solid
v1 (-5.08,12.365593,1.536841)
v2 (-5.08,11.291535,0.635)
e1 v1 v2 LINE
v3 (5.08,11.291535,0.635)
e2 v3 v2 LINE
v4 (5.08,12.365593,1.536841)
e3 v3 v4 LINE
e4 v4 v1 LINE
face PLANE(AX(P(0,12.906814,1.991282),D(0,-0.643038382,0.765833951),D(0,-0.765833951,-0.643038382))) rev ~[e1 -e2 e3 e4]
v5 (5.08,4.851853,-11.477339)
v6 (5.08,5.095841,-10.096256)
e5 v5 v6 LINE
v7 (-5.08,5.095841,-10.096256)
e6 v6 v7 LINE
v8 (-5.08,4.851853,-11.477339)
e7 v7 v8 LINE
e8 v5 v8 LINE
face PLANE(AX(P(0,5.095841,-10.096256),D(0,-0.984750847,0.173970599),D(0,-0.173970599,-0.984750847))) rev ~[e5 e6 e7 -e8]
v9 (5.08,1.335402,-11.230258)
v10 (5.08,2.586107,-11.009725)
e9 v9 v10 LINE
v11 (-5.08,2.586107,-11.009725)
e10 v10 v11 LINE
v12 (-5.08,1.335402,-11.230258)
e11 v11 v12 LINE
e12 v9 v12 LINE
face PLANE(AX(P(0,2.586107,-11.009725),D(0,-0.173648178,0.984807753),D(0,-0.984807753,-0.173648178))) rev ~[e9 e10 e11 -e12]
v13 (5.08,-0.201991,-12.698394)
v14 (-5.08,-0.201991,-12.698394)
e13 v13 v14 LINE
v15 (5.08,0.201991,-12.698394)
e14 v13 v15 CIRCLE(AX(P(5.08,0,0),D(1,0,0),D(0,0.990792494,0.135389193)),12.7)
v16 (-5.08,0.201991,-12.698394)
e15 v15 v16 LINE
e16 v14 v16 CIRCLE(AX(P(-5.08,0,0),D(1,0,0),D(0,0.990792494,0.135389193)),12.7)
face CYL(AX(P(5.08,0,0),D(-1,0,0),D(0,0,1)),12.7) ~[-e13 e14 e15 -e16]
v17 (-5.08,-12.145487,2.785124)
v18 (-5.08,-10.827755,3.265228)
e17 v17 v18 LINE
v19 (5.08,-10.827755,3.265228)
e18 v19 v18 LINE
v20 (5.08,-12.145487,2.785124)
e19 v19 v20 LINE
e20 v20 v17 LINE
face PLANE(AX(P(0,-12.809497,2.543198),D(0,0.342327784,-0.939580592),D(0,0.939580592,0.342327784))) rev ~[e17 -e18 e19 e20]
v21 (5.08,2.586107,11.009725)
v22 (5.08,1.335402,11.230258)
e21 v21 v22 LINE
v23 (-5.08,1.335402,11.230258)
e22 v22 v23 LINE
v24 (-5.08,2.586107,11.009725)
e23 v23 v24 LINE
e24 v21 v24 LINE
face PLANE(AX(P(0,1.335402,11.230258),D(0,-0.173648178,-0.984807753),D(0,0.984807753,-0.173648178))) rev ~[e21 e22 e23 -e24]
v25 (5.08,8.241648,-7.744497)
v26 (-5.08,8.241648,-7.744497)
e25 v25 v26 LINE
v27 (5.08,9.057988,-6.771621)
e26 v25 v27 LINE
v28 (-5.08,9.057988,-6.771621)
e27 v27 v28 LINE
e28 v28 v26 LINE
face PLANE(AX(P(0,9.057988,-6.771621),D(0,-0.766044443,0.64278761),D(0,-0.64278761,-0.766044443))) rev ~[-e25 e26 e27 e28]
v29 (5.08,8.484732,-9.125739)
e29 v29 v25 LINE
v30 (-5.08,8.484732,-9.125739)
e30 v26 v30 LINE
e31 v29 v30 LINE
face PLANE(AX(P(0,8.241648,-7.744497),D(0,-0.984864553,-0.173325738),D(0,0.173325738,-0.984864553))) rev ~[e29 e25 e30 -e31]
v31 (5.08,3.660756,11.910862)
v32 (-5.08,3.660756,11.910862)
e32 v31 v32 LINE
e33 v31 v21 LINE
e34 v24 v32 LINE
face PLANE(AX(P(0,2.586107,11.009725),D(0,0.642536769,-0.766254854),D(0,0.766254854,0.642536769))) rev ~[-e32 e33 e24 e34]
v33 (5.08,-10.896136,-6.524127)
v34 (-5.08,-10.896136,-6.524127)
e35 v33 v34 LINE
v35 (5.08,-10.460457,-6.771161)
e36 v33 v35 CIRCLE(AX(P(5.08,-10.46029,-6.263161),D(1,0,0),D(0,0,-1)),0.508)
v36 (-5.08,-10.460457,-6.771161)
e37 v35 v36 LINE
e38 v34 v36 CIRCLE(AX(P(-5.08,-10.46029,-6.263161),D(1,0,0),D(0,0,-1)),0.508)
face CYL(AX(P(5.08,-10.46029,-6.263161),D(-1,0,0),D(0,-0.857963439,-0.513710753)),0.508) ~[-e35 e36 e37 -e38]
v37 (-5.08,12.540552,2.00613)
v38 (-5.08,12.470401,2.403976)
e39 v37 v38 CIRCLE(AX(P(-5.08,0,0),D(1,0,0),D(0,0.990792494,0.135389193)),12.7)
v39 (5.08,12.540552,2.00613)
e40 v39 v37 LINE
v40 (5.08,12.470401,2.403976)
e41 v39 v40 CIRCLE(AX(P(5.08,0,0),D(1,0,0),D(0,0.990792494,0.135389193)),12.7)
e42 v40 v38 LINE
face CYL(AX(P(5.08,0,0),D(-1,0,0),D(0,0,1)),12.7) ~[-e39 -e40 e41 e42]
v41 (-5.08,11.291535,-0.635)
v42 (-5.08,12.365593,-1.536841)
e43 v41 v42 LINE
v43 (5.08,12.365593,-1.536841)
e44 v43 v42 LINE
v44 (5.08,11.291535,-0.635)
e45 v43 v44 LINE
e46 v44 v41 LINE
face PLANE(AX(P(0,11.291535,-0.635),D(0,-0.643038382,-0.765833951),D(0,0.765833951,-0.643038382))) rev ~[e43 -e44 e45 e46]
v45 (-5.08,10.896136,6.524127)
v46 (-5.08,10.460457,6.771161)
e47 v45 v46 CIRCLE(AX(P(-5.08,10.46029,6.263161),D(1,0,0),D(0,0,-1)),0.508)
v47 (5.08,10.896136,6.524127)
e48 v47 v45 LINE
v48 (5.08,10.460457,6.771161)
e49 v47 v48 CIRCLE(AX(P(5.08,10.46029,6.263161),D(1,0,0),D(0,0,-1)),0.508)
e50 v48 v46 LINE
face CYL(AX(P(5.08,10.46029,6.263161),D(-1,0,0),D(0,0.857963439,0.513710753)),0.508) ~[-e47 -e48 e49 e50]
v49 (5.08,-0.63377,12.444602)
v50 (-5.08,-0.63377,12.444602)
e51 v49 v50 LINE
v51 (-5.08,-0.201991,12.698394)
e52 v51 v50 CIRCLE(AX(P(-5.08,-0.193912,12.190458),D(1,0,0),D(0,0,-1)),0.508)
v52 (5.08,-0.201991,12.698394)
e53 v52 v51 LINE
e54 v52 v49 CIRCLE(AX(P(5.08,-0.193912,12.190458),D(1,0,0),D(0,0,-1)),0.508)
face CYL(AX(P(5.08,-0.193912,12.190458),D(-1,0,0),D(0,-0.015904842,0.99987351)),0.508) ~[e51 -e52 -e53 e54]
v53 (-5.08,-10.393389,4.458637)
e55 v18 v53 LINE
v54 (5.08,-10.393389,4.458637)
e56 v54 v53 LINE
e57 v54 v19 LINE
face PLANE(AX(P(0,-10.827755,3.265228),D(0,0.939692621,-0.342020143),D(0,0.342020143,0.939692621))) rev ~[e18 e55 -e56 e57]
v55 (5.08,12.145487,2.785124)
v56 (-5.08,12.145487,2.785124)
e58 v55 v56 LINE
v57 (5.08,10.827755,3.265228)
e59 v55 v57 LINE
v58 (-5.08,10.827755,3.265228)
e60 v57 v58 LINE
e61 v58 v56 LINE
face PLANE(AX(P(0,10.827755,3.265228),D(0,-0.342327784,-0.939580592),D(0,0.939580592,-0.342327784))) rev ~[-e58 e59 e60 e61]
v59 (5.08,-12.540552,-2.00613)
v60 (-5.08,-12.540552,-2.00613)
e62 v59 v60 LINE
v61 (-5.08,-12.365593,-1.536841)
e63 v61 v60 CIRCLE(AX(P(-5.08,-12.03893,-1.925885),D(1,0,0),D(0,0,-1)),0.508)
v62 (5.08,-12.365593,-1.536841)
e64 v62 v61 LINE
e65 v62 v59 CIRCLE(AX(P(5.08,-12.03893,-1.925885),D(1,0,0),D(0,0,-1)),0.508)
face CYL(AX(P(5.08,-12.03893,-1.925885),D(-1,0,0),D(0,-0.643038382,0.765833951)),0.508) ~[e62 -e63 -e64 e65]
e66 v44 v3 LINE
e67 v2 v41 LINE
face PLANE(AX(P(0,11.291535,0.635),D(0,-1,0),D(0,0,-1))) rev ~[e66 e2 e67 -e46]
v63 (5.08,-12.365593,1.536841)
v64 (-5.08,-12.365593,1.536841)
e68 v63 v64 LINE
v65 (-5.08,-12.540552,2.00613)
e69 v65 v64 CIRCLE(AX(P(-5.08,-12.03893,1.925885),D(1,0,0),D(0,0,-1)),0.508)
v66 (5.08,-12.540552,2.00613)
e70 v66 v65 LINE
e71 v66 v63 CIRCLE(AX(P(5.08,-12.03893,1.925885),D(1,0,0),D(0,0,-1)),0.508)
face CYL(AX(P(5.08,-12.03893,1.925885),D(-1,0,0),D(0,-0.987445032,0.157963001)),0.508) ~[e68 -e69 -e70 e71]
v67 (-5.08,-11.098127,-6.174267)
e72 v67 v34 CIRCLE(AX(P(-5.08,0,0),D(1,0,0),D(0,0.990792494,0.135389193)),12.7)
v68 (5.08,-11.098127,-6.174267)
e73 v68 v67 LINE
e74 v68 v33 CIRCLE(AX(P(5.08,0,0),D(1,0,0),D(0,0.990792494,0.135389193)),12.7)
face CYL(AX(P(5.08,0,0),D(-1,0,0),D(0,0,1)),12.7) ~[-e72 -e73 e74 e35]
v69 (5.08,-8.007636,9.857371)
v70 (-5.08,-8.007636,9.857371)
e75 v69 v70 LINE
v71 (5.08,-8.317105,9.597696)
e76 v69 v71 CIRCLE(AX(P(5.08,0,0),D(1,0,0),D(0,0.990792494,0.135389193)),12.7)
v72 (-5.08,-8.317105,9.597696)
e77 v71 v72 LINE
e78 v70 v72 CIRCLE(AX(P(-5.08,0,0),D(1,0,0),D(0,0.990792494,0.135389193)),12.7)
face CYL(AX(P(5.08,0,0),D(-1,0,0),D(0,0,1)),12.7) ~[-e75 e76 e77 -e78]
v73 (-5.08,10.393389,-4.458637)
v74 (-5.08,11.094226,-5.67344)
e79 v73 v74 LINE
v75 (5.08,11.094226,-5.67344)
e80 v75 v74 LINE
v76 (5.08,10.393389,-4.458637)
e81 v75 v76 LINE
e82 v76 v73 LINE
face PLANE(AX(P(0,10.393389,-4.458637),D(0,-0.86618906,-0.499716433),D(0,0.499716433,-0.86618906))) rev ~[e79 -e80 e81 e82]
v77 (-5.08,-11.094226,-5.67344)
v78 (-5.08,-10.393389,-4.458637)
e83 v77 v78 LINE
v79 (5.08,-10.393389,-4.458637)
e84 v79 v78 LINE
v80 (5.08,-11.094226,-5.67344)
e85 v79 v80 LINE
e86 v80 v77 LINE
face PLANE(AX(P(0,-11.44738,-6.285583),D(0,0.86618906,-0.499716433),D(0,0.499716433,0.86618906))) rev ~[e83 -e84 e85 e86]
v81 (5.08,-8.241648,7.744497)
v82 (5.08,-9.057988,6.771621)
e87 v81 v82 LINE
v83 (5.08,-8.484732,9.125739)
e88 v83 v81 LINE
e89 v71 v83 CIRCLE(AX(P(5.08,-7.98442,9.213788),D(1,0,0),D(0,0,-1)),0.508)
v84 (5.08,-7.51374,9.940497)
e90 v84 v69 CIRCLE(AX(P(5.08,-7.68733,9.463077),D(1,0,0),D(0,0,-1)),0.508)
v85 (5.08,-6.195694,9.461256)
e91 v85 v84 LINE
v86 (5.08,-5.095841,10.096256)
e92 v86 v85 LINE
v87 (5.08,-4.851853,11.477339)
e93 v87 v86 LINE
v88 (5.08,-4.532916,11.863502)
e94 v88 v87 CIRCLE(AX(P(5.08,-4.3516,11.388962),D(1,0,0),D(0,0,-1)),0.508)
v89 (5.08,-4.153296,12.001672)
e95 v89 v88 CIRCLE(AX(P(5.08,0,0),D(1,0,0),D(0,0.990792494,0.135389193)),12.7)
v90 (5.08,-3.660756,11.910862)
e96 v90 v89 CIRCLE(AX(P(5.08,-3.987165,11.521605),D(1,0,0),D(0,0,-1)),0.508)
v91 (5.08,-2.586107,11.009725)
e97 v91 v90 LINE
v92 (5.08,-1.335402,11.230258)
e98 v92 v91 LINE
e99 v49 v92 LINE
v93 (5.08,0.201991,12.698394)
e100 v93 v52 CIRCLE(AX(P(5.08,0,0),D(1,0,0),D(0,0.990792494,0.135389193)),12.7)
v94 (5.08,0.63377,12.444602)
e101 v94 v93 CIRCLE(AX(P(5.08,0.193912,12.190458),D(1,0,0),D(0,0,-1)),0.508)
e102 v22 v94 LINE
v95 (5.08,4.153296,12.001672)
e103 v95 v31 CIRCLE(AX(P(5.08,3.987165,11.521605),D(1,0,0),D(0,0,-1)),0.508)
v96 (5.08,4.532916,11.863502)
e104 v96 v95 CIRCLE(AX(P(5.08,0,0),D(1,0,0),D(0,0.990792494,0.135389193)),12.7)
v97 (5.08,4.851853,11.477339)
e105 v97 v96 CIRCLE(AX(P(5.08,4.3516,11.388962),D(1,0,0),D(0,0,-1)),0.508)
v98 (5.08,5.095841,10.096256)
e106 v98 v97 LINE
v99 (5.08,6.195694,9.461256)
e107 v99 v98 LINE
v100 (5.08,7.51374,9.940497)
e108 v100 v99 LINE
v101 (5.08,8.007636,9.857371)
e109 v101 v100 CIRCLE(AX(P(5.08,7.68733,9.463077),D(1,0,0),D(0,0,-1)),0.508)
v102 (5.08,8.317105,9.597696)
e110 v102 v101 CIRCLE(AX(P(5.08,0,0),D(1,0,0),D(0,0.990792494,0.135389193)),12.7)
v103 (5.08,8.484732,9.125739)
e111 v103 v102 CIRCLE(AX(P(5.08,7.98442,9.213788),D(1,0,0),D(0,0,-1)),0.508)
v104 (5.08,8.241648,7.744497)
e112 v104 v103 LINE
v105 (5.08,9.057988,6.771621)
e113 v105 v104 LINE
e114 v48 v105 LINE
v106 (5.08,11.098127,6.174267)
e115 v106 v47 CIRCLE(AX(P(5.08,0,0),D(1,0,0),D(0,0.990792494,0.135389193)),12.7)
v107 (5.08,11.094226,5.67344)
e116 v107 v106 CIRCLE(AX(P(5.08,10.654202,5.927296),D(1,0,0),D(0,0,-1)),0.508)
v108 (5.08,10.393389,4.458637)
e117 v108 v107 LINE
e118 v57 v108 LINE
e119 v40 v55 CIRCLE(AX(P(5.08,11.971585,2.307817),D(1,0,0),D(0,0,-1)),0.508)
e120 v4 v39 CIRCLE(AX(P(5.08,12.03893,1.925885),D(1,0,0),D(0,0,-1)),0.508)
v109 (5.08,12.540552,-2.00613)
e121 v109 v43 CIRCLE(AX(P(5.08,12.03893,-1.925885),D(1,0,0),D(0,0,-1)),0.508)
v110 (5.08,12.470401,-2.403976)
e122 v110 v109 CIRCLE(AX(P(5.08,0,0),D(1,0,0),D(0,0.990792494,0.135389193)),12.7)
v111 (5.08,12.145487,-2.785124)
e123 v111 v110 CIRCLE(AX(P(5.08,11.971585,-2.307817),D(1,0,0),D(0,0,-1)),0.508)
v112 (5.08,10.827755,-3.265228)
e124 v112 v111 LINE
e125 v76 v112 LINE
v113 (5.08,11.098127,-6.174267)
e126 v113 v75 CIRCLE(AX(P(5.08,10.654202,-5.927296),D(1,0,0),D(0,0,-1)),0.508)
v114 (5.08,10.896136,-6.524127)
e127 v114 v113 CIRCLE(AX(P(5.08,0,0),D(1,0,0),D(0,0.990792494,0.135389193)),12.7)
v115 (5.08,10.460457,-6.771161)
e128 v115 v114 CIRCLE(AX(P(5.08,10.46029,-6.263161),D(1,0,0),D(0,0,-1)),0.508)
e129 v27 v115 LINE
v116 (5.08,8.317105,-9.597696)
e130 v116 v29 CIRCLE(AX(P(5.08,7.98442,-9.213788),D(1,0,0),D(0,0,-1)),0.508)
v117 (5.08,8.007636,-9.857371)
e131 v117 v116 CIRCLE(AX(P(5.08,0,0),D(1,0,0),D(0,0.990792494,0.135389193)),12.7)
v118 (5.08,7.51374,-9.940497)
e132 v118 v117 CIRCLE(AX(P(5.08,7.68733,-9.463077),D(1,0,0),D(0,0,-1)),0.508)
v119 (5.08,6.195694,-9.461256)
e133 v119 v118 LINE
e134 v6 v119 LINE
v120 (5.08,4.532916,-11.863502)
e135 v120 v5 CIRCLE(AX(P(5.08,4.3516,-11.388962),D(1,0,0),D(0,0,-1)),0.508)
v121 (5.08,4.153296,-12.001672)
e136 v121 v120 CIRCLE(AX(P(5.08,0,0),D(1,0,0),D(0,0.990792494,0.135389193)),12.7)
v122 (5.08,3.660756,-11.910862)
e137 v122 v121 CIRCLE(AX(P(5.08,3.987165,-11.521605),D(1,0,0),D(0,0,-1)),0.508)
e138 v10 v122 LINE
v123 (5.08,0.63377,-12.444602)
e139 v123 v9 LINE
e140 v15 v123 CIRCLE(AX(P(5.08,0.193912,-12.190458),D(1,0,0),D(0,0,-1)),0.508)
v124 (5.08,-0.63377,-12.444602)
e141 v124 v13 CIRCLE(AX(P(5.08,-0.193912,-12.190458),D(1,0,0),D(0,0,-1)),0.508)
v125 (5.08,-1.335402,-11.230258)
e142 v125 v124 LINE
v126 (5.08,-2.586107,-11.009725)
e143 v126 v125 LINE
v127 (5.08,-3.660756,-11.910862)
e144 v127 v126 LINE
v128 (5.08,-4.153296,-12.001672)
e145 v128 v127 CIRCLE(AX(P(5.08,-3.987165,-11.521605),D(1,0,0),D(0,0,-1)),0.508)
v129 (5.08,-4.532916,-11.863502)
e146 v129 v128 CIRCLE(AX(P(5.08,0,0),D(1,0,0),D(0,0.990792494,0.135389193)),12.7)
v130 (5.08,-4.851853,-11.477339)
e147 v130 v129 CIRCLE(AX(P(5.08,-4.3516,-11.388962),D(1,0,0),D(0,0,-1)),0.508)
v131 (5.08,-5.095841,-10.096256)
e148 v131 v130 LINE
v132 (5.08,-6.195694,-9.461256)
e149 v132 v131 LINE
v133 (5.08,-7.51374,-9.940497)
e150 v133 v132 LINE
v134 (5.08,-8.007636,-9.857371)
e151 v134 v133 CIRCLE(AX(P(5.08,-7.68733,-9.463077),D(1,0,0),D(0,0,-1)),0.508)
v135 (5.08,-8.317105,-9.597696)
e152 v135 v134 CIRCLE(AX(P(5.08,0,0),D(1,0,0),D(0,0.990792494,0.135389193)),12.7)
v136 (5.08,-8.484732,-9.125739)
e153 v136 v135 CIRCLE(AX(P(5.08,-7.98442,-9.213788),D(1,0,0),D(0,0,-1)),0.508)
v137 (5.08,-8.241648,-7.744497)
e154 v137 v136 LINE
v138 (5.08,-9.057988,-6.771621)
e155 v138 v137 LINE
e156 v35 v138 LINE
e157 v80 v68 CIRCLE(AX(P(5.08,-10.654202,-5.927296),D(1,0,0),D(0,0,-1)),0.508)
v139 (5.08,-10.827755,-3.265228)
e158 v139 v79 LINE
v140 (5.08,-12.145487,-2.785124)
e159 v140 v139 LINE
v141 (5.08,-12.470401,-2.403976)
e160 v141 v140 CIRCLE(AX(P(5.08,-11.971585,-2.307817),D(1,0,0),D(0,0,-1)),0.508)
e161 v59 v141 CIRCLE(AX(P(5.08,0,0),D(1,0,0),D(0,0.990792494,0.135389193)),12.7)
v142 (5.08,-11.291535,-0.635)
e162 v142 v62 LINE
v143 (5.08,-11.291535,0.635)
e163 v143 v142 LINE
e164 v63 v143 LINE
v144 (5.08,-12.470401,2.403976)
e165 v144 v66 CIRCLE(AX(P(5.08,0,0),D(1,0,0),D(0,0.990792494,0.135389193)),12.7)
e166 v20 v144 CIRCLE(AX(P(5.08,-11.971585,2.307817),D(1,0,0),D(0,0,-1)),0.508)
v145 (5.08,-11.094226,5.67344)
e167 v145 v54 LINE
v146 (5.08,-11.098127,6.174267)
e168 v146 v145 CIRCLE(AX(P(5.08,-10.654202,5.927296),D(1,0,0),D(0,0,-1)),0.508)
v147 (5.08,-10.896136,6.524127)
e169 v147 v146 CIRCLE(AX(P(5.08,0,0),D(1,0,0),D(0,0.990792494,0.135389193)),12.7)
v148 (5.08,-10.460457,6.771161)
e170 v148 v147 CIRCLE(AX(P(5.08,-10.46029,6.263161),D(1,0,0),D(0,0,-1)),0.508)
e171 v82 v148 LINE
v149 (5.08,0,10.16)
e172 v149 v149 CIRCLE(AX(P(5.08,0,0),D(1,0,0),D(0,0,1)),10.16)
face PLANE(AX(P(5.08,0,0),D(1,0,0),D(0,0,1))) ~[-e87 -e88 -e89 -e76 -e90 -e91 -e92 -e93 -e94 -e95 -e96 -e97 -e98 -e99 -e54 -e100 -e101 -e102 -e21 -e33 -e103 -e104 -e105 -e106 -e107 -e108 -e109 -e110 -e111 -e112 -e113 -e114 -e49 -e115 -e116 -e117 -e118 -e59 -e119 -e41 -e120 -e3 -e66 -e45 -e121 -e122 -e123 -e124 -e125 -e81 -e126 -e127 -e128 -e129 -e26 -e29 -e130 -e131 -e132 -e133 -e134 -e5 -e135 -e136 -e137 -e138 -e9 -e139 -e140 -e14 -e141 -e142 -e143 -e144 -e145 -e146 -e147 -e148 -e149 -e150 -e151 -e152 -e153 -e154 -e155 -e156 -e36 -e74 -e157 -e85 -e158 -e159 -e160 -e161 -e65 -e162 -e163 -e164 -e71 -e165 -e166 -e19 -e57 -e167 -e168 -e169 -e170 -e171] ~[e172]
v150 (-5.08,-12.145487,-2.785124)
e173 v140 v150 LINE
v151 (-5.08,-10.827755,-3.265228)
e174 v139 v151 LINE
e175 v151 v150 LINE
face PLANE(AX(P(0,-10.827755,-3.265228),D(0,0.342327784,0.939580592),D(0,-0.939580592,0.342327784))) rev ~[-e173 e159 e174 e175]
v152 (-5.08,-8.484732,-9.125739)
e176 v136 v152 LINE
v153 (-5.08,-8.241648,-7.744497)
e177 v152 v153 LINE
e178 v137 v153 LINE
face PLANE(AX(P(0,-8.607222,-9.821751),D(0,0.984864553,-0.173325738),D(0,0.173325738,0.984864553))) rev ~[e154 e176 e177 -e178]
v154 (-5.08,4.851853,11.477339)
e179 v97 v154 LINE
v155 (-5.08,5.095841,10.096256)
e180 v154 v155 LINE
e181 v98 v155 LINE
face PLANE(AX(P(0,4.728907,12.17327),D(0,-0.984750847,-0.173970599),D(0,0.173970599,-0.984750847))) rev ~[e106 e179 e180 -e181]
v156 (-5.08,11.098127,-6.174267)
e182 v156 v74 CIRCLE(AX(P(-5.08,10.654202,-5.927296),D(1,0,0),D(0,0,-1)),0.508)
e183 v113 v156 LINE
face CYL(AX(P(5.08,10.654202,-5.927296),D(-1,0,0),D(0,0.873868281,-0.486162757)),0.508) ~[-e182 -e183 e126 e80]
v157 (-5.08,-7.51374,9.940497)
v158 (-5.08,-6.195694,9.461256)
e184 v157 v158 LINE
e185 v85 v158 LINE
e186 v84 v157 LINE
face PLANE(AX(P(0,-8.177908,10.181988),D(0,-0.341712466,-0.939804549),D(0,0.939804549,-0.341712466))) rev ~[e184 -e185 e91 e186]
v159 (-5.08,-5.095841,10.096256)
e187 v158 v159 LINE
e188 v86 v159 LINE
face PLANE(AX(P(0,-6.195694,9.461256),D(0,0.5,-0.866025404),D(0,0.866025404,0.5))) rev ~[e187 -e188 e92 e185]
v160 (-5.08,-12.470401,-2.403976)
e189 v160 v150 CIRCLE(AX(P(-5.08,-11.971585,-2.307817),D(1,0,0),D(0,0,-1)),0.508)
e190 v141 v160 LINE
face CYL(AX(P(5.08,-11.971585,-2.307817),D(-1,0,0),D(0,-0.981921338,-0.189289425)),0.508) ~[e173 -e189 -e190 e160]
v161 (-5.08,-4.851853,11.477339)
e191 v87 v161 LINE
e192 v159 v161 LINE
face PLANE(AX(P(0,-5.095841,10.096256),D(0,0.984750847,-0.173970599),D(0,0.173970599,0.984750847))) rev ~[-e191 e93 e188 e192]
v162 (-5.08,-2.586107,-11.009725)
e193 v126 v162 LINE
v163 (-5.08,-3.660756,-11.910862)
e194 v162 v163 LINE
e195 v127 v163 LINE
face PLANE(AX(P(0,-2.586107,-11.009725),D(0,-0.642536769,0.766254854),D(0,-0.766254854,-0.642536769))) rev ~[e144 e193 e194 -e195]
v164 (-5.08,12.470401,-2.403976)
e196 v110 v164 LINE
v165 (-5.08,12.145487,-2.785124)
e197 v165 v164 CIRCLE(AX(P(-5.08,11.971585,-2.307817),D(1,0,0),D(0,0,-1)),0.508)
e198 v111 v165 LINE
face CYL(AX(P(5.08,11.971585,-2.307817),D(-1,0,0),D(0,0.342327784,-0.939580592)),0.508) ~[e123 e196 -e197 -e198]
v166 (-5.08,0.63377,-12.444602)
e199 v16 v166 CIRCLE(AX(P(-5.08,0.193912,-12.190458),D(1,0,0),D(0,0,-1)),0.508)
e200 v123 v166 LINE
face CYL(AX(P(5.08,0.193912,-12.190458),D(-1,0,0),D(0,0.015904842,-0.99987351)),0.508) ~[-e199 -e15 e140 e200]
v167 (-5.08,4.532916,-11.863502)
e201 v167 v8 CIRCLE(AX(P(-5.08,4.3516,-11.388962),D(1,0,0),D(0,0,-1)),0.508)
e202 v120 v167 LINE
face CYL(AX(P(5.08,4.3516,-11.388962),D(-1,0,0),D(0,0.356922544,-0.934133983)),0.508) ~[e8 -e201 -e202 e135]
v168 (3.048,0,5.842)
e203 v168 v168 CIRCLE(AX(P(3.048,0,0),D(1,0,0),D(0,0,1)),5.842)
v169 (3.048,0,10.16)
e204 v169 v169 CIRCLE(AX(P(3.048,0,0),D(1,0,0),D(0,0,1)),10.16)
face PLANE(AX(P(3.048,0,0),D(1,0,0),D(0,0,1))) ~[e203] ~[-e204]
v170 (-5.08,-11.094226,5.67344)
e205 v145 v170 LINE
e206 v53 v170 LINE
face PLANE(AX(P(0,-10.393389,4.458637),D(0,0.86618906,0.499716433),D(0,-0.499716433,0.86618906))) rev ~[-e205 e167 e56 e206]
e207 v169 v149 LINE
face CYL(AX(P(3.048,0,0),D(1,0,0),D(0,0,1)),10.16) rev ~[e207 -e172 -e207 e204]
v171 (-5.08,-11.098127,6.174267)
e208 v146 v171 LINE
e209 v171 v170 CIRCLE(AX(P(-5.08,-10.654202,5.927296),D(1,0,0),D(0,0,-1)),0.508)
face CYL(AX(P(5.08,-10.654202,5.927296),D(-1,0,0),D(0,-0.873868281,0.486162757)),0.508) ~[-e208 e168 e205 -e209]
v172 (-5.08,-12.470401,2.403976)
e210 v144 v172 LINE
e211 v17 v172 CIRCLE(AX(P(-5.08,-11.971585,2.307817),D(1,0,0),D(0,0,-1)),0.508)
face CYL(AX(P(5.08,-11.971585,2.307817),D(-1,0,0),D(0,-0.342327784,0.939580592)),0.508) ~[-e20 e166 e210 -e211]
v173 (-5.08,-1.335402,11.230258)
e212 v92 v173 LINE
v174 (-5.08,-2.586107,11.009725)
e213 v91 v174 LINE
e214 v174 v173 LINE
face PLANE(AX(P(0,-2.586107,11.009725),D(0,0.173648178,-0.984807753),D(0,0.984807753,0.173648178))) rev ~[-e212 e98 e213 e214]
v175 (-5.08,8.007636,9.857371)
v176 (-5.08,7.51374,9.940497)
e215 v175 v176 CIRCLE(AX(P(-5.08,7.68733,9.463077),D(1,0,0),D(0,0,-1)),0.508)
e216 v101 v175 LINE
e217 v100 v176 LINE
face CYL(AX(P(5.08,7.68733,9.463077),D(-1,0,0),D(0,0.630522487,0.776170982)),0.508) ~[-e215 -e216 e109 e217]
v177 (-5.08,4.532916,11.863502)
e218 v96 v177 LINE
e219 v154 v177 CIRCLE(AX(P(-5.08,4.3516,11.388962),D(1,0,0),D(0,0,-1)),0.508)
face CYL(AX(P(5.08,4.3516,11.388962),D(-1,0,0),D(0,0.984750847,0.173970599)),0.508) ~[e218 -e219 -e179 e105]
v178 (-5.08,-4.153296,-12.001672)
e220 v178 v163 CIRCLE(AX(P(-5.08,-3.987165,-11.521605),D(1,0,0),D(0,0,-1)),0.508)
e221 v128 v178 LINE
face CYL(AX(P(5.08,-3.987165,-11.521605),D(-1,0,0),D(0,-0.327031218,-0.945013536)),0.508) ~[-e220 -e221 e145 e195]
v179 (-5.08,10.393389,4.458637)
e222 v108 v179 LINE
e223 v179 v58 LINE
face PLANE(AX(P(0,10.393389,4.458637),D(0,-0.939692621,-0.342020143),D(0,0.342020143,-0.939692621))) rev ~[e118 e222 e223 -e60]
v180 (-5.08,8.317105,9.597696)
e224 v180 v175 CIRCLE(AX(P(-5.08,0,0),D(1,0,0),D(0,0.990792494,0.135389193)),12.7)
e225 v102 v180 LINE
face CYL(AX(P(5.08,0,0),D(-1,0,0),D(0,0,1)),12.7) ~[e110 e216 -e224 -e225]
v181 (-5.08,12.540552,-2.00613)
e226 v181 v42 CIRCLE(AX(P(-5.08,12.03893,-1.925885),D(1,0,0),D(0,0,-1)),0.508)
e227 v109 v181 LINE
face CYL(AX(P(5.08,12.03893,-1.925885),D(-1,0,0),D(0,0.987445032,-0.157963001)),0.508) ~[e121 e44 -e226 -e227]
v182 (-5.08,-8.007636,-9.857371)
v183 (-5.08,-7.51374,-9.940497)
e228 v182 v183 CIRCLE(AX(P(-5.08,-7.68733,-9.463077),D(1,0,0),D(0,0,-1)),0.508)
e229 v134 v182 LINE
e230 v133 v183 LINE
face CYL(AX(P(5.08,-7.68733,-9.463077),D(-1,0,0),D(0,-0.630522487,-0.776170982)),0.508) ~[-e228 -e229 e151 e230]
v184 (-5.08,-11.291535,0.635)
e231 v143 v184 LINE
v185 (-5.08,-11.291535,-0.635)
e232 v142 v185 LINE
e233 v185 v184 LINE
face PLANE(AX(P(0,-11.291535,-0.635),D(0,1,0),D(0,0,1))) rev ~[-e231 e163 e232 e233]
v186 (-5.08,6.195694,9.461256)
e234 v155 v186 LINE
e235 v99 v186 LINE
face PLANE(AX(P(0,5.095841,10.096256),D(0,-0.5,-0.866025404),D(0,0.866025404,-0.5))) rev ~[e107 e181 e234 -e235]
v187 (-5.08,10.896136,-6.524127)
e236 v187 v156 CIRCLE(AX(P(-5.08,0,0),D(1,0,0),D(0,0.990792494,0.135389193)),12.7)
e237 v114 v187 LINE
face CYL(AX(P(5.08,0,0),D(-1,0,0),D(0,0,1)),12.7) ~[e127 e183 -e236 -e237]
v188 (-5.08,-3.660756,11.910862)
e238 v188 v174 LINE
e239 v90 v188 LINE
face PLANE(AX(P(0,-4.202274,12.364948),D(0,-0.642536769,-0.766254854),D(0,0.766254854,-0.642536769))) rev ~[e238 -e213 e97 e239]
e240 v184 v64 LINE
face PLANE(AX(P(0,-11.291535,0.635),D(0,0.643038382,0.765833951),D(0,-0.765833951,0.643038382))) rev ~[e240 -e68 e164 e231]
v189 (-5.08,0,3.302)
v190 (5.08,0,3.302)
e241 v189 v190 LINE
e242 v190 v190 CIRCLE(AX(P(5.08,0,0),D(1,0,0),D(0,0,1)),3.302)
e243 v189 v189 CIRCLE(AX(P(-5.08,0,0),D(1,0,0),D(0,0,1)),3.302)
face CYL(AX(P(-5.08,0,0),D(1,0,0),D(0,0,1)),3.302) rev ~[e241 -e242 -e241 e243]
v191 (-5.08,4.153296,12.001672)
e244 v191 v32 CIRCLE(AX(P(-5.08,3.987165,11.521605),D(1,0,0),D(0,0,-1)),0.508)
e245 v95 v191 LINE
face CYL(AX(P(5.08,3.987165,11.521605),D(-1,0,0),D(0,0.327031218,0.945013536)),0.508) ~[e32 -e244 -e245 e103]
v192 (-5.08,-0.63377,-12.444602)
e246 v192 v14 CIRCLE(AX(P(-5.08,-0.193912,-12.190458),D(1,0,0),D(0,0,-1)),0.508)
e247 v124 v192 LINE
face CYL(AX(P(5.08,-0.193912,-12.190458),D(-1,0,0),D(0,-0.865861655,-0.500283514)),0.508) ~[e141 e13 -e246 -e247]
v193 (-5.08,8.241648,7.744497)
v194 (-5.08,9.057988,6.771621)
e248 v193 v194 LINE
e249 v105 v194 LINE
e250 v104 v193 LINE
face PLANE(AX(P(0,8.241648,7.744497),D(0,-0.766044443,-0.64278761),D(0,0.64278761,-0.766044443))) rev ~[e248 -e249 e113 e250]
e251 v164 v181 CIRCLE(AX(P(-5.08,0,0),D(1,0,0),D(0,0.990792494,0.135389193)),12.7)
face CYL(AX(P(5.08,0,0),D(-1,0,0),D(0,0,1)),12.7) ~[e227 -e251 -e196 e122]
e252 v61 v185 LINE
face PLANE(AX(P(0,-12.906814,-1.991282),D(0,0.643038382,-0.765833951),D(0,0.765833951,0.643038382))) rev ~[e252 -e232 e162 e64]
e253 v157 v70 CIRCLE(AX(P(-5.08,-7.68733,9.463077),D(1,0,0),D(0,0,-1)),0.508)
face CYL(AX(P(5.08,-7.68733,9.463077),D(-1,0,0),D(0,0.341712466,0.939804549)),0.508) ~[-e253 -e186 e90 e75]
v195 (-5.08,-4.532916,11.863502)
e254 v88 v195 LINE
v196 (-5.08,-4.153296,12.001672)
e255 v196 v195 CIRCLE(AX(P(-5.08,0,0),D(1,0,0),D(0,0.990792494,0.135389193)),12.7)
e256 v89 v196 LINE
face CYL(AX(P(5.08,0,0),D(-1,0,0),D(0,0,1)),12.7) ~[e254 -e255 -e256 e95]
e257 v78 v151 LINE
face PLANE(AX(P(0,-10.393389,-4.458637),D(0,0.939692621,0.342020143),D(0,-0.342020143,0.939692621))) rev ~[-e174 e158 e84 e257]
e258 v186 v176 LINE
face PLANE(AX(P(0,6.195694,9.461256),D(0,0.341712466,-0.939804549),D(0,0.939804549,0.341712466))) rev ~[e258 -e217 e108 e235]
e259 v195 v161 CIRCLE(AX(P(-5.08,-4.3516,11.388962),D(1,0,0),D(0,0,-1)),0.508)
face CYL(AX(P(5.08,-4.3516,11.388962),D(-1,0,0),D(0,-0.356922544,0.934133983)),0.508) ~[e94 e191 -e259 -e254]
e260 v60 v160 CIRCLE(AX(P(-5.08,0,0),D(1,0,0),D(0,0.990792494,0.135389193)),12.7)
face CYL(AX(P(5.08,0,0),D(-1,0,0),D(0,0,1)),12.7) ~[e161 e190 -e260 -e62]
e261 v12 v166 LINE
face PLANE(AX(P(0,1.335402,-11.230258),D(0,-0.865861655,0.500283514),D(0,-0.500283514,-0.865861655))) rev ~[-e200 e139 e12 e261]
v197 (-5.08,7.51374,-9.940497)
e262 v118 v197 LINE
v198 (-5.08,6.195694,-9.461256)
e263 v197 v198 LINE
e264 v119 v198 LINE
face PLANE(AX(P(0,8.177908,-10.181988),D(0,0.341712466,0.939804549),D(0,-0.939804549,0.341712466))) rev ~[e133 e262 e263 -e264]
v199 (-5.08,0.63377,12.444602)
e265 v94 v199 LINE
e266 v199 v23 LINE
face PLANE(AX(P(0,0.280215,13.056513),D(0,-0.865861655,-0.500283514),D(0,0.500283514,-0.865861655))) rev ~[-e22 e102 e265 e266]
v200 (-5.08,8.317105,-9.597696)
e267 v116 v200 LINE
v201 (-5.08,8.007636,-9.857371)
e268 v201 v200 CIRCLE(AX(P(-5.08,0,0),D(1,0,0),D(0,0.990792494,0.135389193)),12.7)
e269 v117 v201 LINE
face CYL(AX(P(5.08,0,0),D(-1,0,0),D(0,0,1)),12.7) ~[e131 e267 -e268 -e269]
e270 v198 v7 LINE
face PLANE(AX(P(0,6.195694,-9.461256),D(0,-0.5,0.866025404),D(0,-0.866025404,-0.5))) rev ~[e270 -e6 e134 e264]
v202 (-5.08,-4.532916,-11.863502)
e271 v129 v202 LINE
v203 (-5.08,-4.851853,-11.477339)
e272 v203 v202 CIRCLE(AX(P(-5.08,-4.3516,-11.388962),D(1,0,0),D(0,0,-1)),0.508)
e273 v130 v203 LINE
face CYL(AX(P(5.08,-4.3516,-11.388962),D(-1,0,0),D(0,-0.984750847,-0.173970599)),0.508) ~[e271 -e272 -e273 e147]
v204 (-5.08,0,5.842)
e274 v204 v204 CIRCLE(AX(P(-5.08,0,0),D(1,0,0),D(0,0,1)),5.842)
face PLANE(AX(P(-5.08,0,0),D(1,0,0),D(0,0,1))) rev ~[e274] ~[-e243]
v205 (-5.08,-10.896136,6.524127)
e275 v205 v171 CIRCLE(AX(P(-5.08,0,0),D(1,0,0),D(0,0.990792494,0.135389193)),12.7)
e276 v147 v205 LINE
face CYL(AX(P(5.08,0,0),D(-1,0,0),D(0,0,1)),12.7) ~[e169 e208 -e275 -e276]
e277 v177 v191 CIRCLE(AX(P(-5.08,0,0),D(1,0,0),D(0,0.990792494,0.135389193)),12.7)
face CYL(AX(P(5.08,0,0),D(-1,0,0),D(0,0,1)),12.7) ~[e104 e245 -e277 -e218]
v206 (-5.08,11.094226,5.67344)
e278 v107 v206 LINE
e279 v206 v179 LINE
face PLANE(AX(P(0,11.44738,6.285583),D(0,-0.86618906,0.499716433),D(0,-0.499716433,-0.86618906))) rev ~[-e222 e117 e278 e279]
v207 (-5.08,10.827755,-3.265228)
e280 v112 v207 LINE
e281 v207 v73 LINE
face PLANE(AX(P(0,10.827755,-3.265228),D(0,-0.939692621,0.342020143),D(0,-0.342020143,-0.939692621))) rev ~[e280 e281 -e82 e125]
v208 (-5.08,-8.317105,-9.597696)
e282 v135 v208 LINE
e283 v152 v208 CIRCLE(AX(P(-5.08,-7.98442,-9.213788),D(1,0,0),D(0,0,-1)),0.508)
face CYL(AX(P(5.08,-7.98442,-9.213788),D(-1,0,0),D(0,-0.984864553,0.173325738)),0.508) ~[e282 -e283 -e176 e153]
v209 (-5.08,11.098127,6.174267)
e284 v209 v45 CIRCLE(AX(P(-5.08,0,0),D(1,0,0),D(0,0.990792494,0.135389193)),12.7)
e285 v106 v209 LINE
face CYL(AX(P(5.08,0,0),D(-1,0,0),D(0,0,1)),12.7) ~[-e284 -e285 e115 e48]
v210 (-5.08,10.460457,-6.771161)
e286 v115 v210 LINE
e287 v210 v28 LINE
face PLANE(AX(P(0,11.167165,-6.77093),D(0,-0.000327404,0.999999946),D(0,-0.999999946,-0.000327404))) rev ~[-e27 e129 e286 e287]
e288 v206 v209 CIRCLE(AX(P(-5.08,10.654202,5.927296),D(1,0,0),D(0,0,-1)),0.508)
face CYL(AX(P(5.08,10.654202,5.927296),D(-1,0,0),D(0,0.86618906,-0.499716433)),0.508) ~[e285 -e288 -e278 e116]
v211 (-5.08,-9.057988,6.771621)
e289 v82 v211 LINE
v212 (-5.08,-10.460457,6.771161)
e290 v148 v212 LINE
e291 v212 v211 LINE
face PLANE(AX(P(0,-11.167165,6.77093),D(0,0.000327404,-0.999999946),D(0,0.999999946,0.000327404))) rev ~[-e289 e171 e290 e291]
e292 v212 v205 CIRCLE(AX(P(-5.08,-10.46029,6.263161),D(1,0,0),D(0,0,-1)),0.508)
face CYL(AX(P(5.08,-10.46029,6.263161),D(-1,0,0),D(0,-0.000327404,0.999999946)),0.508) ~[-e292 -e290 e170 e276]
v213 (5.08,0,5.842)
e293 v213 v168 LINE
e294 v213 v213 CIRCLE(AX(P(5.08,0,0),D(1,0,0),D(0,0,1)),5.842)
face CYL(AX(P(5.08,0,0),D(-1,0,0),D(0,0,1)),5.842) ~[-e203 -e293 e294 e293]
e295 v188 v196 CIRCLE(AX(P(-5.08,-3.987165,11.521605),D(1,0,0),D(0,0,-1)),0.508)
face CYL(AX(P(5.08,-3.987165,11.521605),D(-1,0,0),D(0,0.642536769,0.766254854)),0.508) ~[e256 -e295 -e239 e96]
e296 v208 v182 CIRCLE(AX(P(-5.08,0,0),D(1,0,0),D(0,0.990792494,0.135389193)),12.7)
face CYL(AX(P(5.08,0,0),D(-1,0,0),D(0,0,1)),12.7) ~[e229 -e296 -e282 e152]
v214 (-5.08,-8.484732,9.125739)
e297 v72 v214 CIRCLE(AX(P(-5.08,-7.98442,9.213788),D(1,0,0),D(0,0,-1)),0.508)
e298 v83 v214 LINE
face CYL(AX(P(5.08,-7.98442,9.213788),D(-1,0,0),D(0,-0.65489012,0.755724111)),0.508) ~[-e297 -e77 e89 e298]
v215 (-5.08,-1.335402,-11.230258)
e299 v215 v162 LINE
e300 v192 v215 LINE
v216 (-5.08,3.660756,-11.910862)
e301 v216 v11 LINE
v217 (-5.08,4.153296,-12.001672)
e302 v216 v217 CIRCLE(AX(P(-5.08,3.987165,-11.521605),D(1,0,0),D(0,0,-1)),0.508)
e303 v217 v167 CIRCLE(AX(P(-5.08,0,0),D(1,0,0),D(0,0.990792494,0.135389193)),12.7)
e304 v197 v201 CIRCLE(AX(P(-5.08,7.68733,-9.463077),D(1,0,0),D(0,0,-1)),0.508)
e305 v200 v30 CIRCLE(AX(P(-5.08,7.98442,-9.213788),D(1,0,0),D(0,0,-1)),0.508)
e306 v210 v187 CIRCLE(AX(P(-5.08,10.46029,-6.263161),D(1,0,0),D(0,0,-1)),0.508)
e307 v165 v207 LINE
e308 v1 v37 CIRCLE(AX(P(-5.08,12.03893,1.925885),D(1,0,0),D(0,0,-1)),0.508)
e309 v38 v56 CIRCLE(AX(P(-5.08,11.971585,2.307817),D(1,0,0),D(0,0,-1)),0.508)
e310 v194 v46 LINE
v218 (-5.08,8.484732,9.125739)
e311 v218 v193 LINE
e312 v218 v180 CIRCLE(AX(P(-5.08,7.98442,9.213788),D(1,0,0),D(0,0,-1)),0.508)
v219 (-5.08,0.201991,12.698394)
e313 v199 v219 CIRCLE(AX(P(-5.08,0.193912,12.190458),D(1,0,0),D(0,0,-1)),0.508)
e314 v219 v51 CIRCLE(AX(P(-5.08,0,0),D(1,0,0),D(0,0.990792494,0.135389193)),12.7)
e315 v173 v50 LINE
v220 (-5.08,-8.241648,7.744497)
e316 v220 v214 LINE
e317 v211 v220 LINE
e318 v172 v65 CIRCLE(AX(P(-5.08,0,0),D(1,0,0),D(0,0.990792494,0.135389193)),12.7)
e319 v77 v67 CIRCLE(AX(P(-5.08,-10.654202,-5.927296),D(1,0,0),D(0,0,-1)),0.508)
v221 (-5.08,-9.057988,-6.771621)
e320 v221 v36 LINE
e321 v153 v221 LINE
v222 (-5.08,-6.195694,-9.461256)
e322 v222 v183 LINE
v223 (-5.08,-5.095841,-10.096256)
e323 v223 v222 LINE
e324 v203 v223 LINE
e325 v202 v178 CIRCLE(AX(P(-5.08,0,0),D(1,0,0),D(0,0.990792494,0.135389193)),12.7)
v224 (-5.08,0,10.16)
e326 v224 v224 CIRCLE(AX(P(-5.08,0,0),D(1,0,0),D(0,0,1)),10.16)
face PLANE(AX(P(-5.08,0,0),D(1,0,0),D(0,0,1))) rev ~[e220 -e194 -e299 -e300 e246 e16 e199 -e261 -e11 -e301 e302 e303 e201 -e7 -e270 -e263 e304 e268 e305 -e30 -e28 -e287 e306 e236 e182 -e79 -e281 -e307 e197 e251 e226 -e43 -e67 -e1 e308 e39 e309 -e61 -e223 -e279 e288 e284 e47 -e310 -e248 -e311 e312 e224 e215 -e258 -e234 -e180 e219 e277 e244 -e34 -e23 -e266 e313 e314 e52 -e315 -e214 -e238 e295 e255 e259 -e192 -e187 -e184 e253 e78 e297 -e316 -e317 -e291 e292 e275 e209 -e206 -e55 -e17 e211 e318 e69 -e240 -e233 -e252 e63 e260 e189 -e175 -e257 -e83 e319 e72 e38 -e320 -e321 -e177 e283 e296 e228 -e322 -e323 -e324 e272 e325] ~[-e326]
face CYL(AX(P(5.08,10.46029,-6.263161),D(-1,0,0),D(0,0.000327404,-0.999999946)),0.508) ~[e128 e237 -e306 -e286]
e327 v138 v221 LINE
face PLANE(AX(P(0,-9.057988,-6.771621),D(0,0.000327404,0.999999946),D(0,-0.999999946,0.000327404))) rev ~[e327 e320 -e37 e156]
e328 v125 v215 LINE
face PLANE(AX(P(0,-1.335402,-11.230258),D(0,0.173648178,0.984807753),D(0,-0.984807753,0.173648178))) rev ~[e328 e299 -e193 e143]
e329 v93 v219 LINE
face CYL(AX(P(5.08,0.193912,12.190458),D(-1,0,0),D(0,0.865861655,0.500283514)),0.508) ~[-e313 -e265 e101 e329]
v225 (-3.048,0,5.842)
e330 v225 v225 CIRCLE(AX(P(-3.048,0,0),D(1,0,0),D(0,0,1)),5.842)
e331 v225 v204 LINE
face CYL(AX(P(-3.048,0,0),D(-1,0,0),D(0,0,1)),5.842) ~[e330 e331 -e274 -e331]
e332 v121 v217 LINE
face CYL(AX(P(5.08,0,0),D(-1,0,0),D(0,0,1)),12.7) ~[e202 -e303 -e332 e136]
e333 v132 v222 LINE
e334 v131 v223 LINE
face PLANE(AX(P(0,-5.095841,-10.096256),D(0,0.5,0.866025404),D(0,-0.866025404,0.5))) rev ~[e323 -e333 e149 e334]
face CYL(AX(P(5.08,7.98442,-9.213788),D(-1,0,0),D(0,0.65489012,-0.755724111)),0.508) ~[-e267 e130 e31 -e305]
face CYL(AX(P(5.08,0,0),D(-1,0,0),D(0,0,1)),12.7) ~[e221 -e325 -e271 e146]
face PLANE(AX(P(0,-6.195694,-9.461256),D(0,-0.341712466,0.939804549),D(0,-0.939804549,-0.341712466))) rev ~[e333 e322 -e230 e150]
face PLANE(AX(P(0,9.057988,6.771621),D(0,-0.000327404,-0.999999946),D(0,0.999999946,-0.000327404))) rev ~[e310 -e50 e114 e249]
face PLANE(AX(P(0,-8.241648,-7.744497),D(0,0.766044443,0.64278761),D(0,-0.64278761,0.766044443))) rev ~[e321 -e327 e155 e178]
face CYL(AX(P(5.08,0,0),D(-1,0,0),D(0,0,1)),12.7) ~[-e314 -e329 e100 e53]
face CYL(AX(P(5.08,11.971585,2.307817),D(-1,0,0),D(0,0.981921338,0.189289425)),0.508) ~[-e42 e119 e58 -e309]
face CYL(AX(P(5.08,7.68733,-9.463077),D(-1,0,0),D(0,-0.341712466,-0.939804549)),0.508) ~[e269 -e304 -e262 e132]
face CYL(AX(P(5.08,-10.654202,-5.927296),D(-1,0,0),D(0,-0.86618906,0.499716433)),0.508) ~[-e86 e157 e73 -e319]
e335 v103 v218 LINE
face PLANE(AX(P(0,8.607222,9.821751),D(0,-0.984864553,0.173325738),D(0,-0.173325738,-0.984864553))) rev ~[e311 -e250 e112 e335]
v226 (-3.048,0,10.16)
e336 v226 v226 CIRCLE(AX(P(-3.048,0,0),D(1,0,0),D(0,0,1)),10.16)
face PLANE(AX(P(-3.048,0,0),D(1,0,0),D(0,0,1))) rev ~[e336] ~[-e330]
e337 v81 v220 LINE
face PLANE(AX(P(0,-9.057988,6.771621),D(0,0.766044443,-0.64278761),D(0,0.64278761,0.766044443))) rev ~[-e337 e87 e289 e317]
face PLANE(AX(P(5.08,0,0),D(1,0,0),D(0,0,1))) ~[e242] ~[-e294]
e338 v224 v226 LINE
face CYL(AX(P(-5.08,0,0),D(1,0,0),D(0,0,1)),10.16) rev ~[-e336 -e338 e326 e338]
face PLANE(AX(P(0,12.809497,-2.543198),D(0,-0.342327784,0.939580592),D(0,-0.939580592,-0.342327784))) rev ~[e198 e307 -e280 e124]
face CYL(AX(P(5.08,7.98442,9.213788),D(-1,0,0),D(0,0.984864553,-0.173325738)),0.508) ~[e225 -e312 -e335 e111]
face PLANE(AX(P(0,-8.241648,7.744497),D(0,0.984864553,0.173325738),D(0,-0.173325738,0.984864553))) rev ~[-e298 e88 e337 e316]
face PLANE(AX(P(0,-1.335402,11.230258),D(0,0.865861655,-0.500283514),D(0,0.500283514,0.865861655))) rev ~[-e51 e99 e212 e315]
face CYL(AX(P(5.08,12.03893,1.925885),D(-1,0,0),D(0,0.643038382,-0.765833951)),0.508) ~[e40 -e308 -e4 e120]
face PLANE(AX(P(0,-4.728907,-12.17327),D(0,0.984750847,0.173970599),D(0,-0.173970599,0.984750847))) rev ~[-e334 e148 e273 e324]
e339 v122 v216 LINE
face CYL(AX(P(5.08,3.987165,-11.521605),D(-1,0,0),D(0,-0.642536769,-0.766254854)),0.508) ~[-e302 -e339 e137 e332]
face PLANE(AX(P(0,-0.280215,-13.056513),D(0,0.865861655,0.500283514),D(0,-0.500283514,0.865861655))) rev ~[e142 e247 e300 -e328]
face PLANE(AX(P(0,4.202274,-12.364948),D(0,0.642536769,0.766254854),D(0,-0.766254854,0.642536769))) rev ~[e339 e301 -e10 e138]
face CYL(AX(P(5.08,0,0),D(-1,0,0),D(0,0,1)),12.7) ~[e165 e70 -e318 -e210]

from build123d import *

# Parameters (mm, degrees)
CUT_EXTRUDE1_DEPTH       = 19.66511184
FILLET2_R                = 0.508
CIRPATTERN1_COUNT        = 18
FILLET2_OF_CIRPATTERN1_R = 0.508


with BuildPart() as part:
    # Sketch1 → Revolve1 (revolve)
    with BuildSketch(Plane.XY, mode=Mode.PRIVATE) as revolve1_sk:
        Polygon((5.08, 5.842), (3.048, 5.842), (3.048, 10.16), (5.08, 10.16), (5.08, 12.7), (-5.08, 12.7), (-5.08, 10.16), (-3.048, 10.16), (-3.048, 5.842), (-5.08, 5.842), (-5.08, 3.302), (5.08, 3.302), align=None)
    revolve(revolve1_sk.sketch.rotate(Axis((0, 0, 0), (1, 0, 0)), 90), axis=Axis((0, 0, 0), (1, 0, 0)))

    # Sketch2 → Cut-Extrude1 (cut, symmetric)
    with BuildSketch(Plane(origin=(0, 0, 0), x_dir=(0, 0, -1), z_dir=(1, 0, 0))):
        Polygon((0.635, 11.291535111), (1.991281675, 12.906814359), (-1.991281675, 12.906814359), (-0.635, 11.291535111), align=None)
    cut_extrude1 = extrude(amount=CUT_EXTRUDE1_DEPTH, both=True, mode=Mode.SUBTRACT)

    # Fillet2
    fillet2_edges = [part.edges().sort_by_distance(p)[0] for p in [
        (0, 12.583064675, 1.719442756),
        (0, 12.583064675, -1.719442756),
    ]]
    fillet(fillet2_edges, radius=FILLET2_R)

    # CirPattern1: Cut-Extrude1 ×18 about axis
    cirpattern1_axis = Axis((0, 0, 0), (1, 0, 0))
    for i in range(1, CIRPATTERN1_COUNT):
        add(cut_extrude1.rotate(cirpattern1_axis, i * 360 / CIRPATTERN1_COUNT), mode=Mode.SUBTRACT)

    # Fillet2 of CirPattern1
    fillet2_of_cirpattern1_edges = [part.edges().sort_by_distance(p)[0] for p in [
        (0, 11.236128964, 5.919409254),
        (0, 12.41229708, 2.687913913),
        (0, 8.533950272, 9.405407634),
        (0, 10.744423271, 6.771068496),
        (0, 4.80245123, 11.756975044),
        (0, 7.780613445, 10.037532288),
        (0, 0.491705693, 12.69047775),
        (0, 3.878346808, 12.093321547),
        (0, -3.878346808, 12.093321547),
        (0, -0.491705693, 12.69047775),
        (0, -7.780613445, 10.037532288),
        (0, -4.80245123, 11.756975044),
        (0, -10.744423271, 6.771068496),
        (0, -8.533950272, 9.405407634),
        (0, -12.41229708, 2.687913913),
        (0, -11.236128964, 5.919409254),
        (0, -12.583064675, -1.719442756),
        (0, -12.583064675, 1.719442756),
        (0, -11.236128964, -5.919409254),
        (0, -12.41229708, -2.687913913),
        (0, -8.533950272, -9.405407634),
        (0, -10.744423271, -6.771068496),
        (0, -4.80245123, -11.756975044),
        (0, -7.780613445, -10.037532288),
        (0, -0.491705693, -12.69047775),
        (0, -3.878346808, -12.093321547),
        (0, 3.878346808, -12.093321547),
        (0, 0.491705693, -12.69047775),
        (0, 7.780613445, -10.037532288),
        (0, 4.80245123, -11.756975044),
        (0, 10.744423271, -6.771068496),
        (0, 8.533950272, -9.405407634),
        (0, 12.41229708, -2.687913913),
        (0, 11.236128964, -5.919409254),
    ]]
    fillet(fillet2_of_cirpattern1_edges, radius=FILLET2_OF_CIRPATTERN1_R)


solid = part.part
